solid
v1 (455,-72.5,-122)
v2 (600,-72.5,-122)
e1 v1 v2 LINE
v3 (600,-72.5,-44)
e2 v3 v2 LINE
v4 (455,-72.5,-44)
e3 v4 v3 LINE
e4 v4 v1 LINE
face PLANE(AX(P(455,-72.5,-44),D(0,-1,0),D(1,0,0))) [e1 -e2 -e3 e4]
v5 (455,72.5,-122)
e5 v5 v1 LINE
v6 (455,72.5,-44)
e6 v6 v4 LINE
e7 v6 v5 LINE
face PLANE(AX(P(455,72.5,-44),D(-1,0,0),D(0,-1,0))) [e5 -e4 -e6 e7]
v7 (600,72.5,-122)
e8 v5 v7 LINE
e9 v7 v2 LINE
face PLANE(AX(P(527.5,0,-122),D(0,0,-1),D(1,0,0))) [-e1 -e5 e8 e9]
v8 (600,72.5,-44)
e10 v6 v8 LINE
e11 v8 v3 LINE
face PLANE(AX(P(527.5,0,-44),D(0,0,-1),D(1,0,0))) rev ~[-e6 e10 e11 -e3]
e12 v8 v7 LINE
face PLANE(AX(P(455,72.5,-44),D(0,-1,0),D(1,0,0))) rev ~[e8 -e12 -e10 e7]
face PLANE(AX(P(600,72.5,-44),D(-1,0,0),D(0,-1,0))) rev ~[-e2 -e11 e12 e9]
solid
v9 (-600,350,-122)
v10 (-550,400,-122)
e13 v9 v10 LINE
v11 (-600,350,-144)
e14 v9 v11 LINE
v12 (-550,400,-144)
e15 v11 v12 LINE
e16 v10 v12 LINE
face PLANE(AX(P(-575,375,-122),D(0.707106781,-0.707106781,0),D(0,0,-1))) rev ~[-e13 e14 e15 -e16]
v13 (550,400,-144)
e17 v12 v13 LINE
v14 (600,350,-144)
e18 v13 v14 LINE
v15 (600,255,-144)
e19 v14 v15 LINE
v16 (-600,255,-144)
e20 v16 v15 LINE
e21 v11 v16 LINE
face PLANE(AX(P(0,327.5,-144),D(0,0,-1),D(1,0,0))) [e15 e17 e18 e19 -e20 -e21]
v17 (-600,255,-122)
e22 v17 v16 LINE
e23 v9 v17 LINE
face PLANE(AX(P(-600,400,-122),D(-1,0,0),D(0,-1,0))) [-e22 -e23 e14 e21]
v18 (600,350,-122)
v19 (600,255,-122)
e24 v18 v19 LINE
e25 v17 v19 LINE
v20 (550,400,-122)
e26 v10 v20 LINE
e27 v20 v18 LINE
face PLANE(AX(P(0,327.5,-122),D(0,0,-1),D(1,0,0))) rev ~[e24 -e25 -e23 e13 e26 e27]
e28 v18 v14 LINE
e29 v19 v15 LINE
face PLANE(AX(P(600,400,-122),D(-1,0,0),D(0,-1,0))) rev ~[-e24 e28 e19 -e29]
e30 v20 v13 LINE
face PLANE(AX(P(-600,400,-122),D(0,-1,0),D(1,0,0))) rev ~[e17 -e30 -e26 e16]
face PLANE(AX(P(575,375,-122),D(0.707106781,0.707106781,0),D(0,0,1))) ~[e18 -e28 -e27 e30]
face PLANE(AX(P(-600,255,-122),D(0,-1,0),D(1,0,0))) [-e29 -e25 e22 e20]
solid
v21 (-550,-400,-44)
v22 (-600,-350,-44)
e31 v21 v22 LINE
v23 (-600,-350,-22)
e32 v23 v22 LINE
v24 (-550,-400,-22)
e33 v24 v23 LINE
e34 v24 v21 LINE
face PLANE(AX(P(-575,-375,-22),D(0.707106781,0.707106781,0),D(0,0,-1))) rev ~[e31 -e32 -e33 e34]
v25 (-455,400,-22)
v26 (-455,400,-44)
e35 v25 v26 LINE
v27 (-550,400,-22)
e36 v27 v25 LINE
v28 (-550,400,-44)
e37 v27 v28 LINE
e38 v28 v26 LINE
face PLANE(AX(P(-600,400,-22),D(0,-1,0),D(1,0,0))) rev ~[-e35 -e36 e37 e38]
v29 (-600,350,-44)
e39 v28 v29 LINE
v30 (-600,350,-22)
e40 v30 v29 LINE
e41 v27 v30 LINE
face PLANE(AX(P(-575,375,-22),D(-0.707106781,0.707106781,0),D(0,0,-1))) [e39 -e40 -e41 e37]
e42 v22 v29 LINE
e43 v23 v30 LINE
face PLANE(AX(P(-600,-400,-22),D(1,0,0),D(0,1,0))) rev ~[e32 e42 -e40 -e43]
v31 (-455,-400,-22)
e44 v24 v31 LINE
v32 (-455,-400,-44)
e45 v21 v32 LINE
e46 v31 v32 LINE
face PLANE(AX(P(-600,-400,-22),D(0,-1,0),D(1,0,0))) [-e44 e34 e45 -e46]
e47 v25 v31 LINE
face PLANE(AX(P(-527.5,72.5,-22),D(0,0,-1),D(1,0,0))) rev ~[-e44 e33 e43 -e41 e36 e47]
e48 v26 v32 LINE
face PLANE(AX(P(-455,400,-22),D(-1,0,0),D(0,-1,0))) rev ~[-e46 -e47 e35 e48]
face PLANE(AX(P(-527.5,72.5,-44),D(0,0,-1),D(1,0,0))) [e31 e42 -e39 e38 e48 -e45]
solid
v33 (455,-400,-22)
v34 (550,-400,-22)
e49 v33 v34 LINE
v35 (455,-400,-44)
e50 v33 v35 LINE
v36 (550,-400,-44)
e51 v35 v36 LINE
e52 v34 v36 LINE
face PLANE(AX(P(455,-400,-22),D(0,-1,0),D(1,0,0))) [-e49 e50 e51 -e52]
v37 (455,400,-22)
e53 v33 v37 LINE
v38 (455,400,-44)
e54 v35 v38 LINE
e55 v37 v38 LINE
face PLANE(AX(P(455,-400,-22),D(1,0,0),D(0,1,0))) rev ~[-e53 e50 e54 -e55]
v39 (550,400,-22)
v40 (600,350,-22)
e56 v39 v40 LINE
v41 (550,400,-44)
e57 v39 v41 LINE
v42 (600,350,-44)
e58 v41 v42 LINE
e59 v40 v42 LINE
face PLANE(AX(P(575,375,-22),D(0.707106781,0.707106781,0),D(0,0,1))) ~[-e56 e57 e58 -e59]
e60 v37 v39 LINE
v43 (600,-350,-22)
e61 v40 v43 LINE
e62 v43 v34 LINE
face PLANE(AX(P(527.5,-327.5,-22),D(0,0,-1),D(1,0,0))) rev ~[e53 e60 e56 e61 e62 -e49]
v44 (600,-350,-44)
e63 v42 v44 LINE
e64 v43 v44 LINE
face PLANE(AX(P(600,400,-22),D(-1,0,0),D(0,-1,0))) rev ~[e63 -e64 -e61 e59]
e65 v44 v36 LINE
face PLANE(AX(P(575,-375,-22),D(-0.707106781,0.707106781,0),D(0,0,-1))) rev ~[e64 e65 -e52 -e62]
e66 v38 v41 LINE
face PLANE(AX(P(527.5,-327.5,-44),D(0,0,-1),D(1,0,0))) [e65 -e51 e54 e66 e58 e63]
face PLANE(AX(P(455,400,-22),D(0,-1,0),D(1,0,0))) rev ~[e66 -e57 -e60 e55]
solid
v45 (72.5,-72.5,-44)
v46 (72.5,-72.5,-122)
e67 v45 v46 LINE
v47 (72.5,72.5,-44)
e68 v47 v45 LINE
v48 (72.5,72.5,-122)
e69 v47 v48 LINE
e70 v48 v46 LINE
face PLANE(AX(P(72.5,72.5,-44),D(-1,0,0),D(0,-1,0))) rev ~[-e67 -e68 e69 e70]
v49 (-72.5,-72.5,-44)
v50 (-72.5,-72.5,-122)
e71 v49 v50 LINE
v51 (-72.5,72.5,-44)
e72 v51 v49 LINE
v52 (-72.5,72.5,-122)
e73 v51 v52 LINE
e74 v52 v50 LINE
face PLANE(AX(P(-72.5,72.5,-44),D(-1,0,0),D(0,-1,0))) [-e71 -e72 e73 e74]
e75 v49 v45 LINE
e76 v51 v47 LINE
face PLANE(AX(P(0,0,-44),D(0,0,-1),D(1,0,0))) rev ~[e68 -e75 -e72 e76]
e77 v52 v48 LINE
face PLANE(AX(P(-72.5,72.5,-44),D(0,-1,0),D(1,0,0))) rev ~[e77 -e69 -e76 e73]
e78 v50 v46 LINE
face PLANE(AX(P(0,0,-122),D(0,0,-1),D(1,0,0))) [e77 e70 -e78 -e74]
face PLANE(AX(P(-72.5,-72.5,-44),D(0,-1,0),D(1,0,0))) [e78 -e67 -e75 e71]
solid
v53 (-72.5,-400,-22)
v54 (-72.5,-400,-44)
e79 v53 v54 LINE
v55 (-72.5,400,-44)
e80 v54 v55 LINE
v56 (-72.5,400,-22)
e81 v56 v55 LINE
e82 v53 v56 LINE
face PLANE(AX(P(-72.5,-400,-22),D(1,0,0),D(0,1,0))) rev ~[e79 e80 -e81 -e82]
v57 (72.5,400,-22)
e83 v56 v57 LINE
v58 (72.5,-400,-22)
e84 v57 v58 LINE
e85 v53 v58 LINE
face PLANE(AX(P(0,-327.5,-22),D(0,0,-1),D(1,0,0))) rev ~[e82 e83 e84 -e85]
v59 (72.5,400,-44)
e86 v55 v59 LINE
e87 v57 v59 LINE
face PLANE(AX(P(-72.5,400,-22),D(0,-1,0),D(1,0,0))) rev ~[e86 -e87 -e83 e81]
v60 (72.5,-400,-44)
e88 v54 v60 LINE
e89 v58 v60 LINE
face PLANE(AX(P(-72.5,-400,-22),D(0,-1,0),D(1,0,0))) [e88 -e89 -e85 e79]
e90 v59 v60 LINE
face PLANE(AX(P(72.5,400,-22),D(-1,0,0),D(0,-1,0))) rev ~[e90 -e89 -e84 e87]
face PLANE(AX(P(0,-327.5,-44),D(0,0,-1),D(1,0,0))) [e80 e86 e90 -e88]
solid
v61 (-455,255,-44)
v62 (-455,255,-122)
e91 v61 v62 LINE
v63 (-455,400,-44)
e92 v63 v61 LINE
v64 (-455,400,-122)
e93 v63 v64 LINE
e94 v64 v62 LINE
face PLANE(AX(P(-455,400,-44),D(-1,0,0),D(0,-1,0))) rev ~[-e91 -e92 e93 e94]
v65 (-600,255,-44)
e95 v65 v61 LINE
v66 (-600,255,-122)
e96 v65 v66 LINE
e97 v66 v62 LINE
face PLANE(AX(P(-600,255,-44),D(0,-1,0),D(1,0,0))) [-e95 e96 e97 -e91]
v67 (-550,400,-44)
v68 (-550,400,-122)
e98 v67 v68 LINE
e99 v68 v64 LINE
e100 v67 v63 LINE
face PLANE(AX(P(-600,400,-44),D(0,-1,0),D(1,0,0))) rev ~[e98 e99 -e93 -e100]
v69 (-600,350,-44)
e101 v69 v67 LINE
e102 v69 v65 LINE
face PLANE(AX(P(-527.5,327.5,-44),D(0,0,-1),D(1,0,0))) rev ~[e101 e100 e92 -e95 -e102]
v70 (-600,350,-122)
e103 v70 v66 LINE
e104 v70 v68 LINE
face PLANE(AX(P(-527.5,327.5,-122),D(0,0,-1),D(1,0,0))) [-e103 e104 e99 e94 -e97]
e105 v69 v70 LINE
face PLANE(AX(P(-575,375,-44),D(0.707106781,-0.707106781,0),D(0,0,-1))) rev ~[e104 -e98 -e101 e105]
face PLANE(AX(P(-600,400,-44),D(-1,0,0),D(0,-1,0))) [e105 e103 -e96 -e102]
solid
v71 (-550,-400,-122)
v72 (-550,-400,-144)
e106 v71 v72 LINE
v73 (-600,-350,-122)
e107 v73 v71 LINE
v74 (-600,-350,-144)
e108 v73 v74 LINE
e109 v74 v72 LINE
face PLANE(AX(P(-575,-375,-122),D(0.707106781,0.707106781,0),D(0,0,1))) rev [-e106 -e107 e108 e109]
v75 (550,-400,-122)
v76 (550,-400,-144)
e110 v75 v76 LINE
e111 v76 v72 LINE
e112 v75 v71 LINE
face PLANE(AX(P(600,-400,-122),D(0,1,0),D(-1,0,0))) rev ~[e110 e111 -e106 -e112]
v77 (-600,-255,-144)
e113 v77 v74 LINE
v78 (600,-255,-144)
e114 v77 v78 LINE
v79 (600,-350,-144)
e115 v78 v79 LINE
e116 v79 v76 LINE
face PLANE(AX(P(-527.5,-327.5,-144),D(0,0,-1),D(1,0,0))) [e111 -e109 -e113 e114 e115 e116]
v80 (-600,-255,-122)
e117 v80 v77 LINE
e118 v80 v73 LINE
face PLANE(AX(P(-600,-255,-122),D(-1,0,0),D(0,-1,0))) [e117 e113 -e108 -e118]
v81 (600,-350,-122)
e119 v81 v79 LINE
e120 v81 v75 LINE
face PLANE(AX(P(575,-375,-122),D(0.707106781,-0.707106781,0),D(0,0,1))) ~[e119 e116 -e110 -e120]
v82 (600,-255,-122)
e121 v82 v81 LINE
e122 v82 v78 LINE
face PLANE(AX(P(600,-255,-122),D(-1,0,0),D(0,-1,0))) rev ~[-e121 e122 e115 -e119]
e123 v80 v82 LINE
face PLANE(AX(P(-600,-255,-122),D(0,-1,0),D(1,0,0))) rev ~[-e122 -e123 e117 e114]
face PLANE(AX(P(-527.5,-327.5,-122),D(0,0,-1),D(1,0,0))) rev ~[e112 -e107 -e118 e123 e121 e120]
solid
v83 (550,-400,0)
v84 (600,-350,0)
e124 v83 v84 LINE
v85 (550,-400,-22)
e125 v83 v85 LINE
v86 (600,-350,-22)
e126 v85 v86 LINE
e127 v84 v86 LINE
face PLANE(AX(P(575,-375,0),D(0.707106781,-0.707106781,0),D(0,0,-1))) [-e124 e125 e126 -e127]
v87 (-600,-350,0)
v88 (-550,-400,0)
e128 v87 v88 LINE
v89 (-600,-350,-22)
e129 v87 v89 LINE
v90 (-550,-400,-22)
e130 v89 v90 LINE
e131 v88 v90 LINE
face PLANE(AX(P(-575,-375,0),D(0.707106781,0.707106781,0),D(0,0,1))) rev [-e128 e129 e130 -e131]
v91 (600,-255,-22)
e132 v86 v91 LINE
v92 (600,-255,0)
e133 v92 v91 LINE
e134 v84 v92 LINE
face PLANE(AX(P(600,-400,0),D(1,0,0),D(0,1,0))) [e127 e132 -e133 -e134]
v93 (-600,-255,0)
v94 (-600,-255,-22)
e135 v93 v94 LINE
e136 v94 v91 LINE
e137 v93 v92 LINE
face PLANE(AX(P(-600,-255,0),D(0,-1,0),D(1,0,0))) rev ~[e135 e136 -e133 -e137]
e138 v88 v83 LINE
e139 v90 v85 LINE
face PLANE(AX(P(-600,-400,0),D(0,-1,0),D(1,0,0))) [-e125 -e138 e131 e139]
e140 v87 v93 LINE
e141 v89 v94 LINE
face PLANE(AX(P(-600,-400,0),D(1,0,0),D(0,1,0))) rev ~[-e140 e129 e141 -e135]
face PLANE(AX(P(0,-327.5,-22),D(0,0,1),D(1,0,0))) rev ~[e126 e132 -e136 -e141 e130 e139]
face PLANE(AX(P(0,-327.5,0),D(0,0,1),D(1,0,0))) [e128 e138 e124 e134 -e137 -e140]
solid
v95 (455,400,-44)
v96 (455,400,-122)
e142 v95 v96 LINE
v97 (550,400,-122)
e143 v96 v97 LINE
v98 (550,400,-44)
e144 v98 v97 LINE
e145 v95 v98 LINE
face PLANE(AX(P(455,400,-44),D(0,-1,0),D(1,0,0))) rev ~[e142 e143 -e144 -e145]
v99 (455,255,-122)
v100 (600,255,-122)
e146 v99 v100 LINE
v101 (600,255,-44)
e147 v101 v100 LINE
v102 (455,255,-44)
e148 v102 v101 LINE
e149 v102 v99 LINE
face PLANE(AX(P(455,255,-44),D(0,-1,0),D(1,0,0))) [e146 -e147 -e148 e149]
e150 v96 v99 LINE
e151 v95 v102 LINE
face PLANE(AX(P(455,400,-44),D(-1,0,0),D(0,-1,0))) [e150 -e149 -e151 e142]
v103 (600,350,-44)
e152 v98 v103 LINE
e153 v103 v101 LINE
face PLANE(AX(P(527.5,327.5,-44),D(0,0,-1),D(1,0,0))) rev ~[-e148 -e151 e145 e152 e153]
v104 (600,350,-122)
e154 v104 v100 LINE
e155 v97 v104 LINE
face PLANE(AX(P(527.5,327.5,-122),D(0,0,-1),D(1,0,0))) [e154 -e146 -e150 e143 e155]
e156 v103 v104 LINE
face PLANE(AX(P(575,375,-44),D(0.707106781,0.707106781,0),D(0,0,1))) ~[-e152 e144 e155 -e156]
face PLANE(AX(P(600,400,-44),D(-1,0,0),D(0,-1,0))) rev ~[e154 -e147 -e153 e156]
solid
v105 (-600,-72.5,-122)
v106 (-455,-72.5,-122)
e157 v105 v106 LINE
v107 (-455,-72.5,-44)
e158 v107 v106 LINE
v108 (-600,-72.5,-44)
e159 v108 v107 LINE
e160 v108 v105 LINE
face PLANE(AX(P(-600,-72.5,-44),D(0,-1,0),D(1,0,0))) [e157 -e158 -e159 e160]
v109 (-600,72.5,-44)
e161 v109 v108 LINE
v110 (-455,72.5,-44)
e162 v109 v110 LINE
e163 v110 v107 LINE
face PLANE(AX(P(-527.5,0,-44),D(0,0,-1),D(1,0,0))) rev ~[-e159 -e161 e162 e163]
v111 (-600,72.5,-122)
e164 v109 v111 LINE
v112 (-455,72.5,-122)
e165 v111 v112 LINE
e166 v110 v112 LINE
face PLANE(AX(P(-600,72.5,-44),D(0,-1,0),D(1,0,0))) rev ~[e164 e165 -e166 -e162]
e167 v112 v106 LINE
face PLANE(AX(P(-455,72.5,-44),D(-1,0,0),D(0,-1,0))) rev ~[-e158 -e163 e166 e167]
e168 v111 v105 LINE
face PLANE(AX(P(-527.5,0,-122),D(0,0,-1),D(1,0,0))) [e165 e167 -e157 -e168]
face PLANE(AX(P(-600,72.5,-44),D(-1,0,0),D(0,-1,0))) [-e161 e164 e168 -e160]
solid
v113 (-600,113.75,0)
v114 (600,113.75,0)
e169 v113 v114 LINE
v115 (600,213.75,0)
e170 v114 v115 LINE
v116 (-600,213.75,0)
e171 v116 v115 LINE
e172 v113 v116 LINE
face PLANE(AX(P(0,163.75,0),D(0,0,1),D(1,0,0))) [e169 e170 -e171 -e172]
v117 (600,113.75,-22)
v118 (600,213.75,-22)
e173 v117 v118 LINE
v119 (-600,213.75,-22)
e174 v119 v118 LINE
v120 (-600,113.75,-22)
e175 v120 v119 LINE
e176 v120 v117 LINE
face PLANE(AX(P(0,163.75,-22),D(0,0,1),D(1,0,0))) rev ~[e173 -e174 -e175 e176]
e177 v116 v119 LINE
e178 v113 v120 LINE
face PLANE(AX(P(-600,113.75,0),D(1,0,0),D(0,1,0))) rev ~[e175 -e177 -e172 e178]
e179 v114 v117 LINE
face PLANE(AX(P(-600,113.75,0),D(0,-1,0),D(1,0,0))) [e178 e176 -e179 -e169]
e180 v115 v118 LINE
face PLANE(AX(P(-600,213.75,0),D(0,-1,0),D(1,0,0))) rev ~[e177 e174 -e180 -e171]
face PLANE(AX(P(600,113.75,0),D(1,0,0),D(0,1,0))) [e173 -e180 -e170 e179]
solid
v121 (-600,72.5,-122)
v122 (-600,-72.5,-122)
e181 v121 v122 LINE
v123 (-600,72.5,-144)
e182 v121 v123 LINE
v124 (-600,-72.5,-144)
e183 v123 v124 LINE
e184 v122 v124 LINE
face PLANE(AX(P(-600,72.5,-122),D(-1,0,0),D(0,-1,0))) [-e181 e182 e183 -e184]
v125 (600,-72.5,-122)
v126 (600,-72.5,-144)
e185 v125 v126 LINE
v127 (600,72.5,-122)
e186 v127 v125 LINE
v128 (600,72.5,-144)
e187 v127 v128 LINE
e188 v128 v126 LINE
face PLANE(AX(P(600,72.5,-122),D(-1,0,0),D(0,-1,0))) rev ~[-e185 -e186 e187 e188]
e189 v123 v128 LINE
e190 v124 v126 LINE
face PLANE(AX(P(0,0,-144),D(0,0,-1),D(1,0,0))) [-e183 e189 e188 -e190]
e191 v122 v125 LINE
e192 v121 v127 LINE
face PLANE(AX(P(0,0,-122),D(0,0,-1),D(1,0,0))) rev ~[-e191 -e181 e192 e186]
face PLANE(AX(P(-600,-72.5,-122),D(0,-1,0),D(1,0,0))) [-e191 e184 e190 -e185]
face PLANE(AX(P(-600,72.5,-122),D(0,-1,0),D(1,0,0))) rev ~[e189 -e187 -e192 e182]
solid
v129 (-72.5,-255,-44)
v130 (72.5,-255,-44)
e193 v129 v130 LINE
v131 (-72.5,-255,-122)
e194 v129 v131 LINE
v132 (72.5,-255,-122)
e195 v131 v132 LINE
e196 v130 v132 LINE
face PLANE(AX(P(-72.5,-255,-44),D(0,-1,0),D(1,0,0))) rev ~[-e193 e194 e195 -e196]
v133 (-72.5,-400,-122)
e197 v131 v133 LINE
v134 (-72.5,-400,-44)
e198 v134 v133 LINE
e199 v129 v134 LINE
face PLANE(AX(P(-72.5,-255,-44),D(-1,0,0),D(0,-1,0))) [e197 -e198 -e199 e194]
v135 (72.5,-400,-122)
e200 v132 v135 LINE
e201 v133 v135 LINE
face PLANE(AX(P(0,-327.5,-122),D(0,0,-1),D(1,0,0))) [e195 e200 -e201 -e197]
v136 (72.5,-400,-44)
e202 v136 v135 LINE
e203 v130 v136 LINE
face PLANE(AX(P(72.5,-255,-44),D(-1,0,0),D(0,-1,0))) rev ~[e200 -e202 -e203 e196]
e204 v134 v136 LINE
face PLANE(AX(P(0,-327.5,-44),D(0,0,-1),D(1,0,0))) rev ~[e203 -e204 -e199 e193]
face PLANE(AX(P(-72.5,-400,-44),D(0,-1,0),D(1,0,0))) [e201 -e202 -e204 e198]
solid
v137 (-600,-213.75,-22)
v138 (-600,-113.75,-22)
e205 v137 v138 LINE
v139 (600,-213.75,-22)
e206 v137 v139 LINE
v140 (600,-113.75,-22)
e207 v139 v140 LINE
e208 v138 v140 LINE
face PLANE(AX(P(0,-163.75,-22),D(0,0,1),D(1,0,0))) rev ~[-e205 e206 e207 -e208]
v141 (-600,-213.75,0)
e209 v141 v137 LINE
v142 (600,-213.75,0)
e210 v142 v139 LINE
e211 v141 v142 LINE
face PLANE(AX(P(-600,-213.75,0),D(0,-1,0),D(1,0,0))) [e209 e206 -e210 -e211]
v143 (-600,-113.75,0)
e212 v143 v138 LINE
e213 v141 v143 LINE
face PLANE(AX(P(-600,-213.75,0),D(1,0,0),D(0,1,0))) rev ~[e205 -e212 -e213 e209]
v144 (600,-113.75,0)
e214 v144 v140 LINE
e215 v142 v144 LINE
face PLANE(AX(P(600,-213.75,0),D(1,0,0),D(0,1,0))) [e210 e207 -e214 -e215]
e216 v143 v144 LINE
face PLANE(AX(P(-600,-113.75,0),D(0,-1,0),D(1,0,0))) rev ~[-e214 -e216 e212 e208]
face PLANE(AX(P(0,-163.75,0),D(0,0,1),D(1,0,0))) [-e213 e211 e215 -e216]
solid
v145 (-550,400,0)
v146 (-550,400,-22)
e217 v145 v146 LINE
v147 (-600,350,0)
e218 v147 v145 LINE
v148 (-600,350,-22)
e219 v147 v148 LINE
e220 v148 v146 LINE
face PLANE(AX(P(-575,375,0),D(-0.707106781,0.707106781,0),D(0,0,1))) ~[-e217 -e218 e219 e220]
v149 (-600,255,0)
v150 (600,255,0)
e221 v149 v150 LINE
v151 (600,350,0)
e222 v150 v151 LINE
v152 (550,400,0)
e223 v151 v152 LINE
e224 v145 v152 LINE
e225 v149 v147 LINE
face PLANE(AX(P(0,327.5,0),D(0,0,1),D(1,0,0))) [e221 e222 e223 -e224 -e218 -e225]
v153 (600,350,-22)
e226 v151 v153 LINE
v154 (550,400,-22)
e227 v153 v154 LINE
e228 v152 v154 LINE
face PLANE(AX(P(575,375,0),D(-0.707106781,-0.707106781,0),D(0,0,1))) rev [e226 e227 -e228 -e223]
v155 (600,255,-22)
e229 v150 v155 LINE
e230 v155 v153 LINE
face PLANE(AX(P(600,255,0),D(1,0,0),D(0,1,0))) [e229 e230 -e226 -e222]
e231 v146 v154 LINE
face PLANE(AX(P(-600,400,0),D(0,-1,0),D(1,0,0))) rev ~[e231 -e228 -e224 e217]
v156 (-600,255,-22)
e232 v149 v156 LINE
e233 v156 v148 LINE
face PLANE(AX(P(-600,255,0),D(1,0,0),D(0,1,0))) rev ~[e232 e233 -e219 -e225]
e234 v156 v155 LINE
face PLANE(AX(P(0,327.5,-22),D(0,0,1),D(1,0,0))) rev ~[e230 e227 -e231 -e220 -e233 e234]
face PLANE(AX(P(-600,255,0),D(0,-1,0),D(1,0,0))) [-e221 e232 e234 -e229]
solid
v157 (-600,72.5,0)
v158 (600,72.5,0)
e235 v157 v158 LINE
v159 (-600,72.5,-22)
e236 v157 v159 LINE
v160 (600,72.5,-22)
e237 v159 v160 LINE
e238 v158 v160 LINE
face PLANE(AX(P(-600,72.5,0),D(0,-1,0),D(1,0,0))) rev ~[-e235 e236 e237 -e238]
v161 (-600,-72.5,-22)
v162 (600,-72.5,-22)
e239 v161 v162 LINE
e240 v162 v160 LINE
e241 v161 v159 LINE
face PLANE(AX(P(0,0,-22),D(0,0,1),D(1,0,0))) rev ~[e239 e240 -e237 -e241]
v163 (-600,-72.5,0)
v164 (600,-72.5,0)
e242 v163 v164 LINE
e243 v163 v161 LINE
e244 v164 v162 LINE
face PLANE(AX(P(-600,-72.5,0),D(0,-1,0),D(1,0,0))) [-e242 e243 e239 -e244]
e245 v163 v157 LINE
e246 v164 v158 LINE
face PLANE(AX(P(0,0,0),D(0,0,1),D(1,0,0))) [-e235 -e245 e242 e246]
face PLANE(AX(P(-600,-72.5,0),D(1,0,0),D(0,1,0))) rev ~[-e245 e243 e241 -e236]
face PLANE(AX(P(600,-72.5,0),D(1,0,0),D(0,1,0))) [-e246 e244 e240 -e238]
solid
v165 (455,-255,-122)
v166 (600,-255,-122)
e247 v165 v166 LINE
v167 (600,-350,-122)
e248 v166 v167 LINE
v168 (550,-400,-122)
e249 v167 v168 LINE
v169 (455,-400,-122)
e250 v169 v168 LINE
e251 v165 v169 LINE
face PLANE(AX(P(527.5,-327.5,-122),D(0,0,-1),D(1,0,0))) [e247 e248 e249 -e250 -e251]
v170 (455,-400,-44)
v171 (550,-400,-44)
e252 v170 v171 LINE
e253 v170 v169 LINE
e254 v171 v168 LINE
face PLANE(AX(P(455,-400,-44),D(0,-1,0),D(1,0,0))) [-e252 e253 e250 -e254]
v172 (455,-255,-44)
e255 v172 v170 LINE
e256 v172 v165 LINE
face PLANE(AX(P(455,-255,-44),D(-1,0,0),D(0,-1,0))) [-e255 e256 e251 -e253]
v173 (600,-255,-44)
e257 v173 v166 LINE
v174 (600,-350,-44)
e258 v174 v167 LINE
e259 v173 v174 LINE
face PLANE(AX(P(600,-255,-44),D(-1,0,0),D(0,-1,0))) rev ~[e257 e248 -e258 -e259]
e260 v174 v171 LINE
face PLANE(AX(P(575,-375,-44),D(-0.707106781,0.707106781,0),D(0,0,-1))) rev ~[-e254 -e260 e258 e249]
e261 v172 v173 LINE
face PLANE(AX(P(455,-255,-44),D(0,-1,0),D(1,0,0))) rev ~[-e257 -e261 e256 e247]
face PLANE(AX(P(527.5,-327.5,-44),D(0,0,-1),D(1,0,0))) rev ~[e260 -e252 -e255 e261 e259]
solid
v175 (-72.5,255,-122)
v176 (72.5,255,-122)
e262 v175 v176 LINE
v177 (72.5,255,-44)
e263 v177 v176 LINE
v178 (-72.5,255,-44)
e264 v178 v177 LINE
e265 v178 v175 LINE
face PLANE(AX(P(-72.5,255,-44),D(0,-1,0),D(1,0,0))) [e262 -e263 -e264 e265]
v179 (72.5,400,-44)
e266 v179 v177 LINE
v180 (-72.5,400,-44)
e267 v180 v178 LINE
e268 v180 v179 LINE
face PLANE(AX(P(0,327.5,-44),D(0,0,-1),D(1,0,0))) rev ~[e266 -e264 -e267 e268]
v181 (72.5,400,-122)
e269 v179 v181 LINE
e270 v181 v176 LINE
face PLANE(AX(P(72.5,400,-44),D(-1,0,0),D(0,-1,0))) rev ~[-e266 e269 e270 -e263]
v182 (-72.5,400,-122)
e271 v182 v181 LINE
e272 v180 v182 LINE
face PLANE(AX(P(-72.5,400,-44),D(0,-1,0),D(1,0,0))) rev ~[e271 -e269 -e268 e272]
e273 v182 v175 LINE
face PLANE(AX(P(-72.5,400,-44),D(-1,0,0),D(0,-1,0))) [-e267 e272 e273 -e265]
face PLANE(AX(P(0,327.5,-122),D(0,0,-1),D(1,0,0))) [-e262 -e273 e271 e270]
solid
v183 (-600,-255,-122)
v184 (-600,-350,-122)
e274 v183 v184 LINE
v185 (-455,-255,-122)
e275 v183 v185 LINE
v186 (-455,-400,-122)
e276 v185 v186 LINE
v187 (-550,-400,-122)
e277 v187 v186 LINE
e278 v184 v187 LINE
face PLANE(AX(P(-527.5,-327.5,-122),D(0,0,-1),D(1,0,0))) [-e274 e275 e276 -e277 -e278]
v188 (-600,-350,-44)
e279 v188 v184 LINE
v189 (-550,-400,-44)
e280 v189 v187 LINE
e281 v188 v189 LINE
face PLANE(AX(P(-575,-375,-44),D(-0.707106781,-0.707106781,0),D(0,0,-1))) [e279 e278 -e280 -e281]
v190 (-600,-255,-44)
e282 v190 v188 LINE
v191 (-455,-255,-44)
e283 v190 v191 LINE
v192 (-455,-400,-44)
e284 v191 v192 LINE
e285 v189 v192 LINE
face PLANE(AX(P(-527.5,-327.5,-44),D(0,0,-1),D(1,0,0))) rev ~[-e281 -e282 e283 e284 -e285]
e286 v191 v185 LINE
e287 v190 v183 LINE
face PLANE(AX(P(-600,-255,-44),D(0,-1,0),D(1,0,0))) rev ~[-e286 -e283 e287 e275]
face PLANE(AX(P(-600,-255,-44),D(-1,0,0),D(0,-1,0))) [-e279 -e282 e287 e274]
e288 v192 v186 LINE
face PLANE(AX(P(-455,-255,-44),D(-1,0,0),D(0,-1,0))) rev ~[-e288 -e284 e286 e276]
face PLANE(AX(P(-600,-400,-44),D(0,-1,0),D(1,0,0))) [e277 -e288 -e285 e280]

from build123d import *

# Parameters (mm, degrees)
F0_W      = 1200
F0_H      = 145
F0_H_2    = 100
F1_DEPTH  = 22
F2_W      = 145
F2_H      = 655
F2_H_2    = 145
F3_DEPTH  = 22
F4_W      = 145
F4_H      = 145
F5_DEPTH  = 78
F6_W      = 145
F6_H      = 145
F6_W_2    = 1055
F6_W_3    = 1200
F7_DEPTH  = 22
F8_SIZE   = 50
F8_2_SIZE = 50
F8_3_SIZE = 50
F8_4_SIZE = 50


with BuildPart() as f1:
    # F0 (on Top) → F1 (new body)
    with BuildSketch(Plane.XY):
        with Locations((0, 327.5)):
            Rectangle(F0_W, F0_H)
        with Locations((0, 163.75)):
            Rectangle(F0_W, F0_H_2)
        Rectangle(F0_W, F0_H)
        with Locations((0, -163.75)):
            Rectangle(F0_W, F0_H_2)
        with Locations((0, -327.5)):
            Rectangle(F0_W, F0_H)
    extrude(amount=-F1_DEPTH)

    # F8
    f8_edges = [f1.edges().sort_by_distance(p)[0] for p in [
        (-600, -400, -11),
        (600, -400, -11),
        (600, 400, -11),
        (-600, 400, -11),
    ]]
    chamfer(f8_edges, length=F8_SIZE)


with BuildPart() as f3:
    # F2 (on face) → F3 (new body)
    with BuildSketch(Plane(origin=(0, 0, -22), x_dir=(1, 0, 0), z_dir=(0, 0, -1))):
        with Locations((-527.5, -72.5)):
            Rectangle(F2_W, F2_H)
        with Locations((-527.5, 327.5)):
            Rectangle(F2_W, F2_H_2)
        with Locations((0, 327.5)):
            Rectangle(F2_W, F2_H_2)
        with Locations((0, -72.5)):
            Rectangle(F2_W, F2_H)
        with Locations((527.5, 327.5)):
            Rectangle(F2_W, F2_H_2)
        with Locations((527.5, -72.5)):
            Rectangle(F2_W, F2_H)
    extrude(amount=F3_DEPTH)

    # F8#2
    f8_2_edges = [f3.edges().sort_by_distance(p)[0] for p in [
        (-600, -400, -33),
        (600, -400, -33),
        (600, 400, -33),
        (-600, 400, -33),
    ]]
    chamfer(f8_2_edges, length=F8_2_SIZE)


with BuildPart() as f5:
    # F4 (on face) → F5 (new body)
    with BuildSketch(Plane(origin=(0, 0, -44), x_dir=(1, 0, 0), z_dir=(0, 0, -1))):
        with Locations((-527.5, 327.5)):
            Rectangle(F4_W, F4_H)
        with Locations((-527.5, 0)):
            Rectangle(F4_W, F4_H)
        with Locations((-527.5, -327.5)):
            Rectangle(F4_W, F4_H)
        with Locations((0, -327.5)):
            Rectangle(F4_W, F4_H)
        Rectangle(F4_W, F4_H)
        with Locations((0, 327.5)):
            Rectangle(F4_W, F4_H)
        with Locations((527.5, 327.5)):
            Rectangle(F4_W, F4_H)
        with Locations((527.5, 0)):
            Rectangle(F4_W, F4_H)
        with Locations((527.5, -327.5)):
            Rectangle(F4_W, F4_H)
    extrude(amount=F5_DEPTH)

    # F8#3
    f8_3_edges = [f5.edges().sort_by_distance(p)[0] for p in [
        (-600, -400, -83),
        (600, -400, -83),
        (600, 400, -83),
        (-600, 400, -83),
    ]]
    chamfer(f8_3_edges, length=F8_3_SIZE)


with BuildPart() as f7:
    # F6 (on face) → F7 (new body)
    with BuildSketch(Plane(origin=(0, 0, -122), x_dir=(1, 0, 0), z_dir=(0, 0, -1))):
        with Locations((-527.5, 327.5)):
            Rectangle(F6_W, F6_H)
        with Locations((72.5, 327.5)):
            Rectangle(F6_W_2, F6_H)
        Rectangle(F6_W_3, F6_H)
        with Locations((0, -327.5)):
            Rectangle(F6_W_3, F6_H)
    extrude(amount=F7_DEPTH)

    # F8#4
    f8_4_edges = [f7.edges().sort_by_distance(p)[0] for p in [
        (-600, -400, -133),
        (600, -400, -133),
        (600, 400, -133),
        (-600, 400, -133),
    ]]
    chamfer(f8_4_edges, length=F8_4_SIZE)


solid = Compound([f1.part, f3.part, f5.part, f7.part])
